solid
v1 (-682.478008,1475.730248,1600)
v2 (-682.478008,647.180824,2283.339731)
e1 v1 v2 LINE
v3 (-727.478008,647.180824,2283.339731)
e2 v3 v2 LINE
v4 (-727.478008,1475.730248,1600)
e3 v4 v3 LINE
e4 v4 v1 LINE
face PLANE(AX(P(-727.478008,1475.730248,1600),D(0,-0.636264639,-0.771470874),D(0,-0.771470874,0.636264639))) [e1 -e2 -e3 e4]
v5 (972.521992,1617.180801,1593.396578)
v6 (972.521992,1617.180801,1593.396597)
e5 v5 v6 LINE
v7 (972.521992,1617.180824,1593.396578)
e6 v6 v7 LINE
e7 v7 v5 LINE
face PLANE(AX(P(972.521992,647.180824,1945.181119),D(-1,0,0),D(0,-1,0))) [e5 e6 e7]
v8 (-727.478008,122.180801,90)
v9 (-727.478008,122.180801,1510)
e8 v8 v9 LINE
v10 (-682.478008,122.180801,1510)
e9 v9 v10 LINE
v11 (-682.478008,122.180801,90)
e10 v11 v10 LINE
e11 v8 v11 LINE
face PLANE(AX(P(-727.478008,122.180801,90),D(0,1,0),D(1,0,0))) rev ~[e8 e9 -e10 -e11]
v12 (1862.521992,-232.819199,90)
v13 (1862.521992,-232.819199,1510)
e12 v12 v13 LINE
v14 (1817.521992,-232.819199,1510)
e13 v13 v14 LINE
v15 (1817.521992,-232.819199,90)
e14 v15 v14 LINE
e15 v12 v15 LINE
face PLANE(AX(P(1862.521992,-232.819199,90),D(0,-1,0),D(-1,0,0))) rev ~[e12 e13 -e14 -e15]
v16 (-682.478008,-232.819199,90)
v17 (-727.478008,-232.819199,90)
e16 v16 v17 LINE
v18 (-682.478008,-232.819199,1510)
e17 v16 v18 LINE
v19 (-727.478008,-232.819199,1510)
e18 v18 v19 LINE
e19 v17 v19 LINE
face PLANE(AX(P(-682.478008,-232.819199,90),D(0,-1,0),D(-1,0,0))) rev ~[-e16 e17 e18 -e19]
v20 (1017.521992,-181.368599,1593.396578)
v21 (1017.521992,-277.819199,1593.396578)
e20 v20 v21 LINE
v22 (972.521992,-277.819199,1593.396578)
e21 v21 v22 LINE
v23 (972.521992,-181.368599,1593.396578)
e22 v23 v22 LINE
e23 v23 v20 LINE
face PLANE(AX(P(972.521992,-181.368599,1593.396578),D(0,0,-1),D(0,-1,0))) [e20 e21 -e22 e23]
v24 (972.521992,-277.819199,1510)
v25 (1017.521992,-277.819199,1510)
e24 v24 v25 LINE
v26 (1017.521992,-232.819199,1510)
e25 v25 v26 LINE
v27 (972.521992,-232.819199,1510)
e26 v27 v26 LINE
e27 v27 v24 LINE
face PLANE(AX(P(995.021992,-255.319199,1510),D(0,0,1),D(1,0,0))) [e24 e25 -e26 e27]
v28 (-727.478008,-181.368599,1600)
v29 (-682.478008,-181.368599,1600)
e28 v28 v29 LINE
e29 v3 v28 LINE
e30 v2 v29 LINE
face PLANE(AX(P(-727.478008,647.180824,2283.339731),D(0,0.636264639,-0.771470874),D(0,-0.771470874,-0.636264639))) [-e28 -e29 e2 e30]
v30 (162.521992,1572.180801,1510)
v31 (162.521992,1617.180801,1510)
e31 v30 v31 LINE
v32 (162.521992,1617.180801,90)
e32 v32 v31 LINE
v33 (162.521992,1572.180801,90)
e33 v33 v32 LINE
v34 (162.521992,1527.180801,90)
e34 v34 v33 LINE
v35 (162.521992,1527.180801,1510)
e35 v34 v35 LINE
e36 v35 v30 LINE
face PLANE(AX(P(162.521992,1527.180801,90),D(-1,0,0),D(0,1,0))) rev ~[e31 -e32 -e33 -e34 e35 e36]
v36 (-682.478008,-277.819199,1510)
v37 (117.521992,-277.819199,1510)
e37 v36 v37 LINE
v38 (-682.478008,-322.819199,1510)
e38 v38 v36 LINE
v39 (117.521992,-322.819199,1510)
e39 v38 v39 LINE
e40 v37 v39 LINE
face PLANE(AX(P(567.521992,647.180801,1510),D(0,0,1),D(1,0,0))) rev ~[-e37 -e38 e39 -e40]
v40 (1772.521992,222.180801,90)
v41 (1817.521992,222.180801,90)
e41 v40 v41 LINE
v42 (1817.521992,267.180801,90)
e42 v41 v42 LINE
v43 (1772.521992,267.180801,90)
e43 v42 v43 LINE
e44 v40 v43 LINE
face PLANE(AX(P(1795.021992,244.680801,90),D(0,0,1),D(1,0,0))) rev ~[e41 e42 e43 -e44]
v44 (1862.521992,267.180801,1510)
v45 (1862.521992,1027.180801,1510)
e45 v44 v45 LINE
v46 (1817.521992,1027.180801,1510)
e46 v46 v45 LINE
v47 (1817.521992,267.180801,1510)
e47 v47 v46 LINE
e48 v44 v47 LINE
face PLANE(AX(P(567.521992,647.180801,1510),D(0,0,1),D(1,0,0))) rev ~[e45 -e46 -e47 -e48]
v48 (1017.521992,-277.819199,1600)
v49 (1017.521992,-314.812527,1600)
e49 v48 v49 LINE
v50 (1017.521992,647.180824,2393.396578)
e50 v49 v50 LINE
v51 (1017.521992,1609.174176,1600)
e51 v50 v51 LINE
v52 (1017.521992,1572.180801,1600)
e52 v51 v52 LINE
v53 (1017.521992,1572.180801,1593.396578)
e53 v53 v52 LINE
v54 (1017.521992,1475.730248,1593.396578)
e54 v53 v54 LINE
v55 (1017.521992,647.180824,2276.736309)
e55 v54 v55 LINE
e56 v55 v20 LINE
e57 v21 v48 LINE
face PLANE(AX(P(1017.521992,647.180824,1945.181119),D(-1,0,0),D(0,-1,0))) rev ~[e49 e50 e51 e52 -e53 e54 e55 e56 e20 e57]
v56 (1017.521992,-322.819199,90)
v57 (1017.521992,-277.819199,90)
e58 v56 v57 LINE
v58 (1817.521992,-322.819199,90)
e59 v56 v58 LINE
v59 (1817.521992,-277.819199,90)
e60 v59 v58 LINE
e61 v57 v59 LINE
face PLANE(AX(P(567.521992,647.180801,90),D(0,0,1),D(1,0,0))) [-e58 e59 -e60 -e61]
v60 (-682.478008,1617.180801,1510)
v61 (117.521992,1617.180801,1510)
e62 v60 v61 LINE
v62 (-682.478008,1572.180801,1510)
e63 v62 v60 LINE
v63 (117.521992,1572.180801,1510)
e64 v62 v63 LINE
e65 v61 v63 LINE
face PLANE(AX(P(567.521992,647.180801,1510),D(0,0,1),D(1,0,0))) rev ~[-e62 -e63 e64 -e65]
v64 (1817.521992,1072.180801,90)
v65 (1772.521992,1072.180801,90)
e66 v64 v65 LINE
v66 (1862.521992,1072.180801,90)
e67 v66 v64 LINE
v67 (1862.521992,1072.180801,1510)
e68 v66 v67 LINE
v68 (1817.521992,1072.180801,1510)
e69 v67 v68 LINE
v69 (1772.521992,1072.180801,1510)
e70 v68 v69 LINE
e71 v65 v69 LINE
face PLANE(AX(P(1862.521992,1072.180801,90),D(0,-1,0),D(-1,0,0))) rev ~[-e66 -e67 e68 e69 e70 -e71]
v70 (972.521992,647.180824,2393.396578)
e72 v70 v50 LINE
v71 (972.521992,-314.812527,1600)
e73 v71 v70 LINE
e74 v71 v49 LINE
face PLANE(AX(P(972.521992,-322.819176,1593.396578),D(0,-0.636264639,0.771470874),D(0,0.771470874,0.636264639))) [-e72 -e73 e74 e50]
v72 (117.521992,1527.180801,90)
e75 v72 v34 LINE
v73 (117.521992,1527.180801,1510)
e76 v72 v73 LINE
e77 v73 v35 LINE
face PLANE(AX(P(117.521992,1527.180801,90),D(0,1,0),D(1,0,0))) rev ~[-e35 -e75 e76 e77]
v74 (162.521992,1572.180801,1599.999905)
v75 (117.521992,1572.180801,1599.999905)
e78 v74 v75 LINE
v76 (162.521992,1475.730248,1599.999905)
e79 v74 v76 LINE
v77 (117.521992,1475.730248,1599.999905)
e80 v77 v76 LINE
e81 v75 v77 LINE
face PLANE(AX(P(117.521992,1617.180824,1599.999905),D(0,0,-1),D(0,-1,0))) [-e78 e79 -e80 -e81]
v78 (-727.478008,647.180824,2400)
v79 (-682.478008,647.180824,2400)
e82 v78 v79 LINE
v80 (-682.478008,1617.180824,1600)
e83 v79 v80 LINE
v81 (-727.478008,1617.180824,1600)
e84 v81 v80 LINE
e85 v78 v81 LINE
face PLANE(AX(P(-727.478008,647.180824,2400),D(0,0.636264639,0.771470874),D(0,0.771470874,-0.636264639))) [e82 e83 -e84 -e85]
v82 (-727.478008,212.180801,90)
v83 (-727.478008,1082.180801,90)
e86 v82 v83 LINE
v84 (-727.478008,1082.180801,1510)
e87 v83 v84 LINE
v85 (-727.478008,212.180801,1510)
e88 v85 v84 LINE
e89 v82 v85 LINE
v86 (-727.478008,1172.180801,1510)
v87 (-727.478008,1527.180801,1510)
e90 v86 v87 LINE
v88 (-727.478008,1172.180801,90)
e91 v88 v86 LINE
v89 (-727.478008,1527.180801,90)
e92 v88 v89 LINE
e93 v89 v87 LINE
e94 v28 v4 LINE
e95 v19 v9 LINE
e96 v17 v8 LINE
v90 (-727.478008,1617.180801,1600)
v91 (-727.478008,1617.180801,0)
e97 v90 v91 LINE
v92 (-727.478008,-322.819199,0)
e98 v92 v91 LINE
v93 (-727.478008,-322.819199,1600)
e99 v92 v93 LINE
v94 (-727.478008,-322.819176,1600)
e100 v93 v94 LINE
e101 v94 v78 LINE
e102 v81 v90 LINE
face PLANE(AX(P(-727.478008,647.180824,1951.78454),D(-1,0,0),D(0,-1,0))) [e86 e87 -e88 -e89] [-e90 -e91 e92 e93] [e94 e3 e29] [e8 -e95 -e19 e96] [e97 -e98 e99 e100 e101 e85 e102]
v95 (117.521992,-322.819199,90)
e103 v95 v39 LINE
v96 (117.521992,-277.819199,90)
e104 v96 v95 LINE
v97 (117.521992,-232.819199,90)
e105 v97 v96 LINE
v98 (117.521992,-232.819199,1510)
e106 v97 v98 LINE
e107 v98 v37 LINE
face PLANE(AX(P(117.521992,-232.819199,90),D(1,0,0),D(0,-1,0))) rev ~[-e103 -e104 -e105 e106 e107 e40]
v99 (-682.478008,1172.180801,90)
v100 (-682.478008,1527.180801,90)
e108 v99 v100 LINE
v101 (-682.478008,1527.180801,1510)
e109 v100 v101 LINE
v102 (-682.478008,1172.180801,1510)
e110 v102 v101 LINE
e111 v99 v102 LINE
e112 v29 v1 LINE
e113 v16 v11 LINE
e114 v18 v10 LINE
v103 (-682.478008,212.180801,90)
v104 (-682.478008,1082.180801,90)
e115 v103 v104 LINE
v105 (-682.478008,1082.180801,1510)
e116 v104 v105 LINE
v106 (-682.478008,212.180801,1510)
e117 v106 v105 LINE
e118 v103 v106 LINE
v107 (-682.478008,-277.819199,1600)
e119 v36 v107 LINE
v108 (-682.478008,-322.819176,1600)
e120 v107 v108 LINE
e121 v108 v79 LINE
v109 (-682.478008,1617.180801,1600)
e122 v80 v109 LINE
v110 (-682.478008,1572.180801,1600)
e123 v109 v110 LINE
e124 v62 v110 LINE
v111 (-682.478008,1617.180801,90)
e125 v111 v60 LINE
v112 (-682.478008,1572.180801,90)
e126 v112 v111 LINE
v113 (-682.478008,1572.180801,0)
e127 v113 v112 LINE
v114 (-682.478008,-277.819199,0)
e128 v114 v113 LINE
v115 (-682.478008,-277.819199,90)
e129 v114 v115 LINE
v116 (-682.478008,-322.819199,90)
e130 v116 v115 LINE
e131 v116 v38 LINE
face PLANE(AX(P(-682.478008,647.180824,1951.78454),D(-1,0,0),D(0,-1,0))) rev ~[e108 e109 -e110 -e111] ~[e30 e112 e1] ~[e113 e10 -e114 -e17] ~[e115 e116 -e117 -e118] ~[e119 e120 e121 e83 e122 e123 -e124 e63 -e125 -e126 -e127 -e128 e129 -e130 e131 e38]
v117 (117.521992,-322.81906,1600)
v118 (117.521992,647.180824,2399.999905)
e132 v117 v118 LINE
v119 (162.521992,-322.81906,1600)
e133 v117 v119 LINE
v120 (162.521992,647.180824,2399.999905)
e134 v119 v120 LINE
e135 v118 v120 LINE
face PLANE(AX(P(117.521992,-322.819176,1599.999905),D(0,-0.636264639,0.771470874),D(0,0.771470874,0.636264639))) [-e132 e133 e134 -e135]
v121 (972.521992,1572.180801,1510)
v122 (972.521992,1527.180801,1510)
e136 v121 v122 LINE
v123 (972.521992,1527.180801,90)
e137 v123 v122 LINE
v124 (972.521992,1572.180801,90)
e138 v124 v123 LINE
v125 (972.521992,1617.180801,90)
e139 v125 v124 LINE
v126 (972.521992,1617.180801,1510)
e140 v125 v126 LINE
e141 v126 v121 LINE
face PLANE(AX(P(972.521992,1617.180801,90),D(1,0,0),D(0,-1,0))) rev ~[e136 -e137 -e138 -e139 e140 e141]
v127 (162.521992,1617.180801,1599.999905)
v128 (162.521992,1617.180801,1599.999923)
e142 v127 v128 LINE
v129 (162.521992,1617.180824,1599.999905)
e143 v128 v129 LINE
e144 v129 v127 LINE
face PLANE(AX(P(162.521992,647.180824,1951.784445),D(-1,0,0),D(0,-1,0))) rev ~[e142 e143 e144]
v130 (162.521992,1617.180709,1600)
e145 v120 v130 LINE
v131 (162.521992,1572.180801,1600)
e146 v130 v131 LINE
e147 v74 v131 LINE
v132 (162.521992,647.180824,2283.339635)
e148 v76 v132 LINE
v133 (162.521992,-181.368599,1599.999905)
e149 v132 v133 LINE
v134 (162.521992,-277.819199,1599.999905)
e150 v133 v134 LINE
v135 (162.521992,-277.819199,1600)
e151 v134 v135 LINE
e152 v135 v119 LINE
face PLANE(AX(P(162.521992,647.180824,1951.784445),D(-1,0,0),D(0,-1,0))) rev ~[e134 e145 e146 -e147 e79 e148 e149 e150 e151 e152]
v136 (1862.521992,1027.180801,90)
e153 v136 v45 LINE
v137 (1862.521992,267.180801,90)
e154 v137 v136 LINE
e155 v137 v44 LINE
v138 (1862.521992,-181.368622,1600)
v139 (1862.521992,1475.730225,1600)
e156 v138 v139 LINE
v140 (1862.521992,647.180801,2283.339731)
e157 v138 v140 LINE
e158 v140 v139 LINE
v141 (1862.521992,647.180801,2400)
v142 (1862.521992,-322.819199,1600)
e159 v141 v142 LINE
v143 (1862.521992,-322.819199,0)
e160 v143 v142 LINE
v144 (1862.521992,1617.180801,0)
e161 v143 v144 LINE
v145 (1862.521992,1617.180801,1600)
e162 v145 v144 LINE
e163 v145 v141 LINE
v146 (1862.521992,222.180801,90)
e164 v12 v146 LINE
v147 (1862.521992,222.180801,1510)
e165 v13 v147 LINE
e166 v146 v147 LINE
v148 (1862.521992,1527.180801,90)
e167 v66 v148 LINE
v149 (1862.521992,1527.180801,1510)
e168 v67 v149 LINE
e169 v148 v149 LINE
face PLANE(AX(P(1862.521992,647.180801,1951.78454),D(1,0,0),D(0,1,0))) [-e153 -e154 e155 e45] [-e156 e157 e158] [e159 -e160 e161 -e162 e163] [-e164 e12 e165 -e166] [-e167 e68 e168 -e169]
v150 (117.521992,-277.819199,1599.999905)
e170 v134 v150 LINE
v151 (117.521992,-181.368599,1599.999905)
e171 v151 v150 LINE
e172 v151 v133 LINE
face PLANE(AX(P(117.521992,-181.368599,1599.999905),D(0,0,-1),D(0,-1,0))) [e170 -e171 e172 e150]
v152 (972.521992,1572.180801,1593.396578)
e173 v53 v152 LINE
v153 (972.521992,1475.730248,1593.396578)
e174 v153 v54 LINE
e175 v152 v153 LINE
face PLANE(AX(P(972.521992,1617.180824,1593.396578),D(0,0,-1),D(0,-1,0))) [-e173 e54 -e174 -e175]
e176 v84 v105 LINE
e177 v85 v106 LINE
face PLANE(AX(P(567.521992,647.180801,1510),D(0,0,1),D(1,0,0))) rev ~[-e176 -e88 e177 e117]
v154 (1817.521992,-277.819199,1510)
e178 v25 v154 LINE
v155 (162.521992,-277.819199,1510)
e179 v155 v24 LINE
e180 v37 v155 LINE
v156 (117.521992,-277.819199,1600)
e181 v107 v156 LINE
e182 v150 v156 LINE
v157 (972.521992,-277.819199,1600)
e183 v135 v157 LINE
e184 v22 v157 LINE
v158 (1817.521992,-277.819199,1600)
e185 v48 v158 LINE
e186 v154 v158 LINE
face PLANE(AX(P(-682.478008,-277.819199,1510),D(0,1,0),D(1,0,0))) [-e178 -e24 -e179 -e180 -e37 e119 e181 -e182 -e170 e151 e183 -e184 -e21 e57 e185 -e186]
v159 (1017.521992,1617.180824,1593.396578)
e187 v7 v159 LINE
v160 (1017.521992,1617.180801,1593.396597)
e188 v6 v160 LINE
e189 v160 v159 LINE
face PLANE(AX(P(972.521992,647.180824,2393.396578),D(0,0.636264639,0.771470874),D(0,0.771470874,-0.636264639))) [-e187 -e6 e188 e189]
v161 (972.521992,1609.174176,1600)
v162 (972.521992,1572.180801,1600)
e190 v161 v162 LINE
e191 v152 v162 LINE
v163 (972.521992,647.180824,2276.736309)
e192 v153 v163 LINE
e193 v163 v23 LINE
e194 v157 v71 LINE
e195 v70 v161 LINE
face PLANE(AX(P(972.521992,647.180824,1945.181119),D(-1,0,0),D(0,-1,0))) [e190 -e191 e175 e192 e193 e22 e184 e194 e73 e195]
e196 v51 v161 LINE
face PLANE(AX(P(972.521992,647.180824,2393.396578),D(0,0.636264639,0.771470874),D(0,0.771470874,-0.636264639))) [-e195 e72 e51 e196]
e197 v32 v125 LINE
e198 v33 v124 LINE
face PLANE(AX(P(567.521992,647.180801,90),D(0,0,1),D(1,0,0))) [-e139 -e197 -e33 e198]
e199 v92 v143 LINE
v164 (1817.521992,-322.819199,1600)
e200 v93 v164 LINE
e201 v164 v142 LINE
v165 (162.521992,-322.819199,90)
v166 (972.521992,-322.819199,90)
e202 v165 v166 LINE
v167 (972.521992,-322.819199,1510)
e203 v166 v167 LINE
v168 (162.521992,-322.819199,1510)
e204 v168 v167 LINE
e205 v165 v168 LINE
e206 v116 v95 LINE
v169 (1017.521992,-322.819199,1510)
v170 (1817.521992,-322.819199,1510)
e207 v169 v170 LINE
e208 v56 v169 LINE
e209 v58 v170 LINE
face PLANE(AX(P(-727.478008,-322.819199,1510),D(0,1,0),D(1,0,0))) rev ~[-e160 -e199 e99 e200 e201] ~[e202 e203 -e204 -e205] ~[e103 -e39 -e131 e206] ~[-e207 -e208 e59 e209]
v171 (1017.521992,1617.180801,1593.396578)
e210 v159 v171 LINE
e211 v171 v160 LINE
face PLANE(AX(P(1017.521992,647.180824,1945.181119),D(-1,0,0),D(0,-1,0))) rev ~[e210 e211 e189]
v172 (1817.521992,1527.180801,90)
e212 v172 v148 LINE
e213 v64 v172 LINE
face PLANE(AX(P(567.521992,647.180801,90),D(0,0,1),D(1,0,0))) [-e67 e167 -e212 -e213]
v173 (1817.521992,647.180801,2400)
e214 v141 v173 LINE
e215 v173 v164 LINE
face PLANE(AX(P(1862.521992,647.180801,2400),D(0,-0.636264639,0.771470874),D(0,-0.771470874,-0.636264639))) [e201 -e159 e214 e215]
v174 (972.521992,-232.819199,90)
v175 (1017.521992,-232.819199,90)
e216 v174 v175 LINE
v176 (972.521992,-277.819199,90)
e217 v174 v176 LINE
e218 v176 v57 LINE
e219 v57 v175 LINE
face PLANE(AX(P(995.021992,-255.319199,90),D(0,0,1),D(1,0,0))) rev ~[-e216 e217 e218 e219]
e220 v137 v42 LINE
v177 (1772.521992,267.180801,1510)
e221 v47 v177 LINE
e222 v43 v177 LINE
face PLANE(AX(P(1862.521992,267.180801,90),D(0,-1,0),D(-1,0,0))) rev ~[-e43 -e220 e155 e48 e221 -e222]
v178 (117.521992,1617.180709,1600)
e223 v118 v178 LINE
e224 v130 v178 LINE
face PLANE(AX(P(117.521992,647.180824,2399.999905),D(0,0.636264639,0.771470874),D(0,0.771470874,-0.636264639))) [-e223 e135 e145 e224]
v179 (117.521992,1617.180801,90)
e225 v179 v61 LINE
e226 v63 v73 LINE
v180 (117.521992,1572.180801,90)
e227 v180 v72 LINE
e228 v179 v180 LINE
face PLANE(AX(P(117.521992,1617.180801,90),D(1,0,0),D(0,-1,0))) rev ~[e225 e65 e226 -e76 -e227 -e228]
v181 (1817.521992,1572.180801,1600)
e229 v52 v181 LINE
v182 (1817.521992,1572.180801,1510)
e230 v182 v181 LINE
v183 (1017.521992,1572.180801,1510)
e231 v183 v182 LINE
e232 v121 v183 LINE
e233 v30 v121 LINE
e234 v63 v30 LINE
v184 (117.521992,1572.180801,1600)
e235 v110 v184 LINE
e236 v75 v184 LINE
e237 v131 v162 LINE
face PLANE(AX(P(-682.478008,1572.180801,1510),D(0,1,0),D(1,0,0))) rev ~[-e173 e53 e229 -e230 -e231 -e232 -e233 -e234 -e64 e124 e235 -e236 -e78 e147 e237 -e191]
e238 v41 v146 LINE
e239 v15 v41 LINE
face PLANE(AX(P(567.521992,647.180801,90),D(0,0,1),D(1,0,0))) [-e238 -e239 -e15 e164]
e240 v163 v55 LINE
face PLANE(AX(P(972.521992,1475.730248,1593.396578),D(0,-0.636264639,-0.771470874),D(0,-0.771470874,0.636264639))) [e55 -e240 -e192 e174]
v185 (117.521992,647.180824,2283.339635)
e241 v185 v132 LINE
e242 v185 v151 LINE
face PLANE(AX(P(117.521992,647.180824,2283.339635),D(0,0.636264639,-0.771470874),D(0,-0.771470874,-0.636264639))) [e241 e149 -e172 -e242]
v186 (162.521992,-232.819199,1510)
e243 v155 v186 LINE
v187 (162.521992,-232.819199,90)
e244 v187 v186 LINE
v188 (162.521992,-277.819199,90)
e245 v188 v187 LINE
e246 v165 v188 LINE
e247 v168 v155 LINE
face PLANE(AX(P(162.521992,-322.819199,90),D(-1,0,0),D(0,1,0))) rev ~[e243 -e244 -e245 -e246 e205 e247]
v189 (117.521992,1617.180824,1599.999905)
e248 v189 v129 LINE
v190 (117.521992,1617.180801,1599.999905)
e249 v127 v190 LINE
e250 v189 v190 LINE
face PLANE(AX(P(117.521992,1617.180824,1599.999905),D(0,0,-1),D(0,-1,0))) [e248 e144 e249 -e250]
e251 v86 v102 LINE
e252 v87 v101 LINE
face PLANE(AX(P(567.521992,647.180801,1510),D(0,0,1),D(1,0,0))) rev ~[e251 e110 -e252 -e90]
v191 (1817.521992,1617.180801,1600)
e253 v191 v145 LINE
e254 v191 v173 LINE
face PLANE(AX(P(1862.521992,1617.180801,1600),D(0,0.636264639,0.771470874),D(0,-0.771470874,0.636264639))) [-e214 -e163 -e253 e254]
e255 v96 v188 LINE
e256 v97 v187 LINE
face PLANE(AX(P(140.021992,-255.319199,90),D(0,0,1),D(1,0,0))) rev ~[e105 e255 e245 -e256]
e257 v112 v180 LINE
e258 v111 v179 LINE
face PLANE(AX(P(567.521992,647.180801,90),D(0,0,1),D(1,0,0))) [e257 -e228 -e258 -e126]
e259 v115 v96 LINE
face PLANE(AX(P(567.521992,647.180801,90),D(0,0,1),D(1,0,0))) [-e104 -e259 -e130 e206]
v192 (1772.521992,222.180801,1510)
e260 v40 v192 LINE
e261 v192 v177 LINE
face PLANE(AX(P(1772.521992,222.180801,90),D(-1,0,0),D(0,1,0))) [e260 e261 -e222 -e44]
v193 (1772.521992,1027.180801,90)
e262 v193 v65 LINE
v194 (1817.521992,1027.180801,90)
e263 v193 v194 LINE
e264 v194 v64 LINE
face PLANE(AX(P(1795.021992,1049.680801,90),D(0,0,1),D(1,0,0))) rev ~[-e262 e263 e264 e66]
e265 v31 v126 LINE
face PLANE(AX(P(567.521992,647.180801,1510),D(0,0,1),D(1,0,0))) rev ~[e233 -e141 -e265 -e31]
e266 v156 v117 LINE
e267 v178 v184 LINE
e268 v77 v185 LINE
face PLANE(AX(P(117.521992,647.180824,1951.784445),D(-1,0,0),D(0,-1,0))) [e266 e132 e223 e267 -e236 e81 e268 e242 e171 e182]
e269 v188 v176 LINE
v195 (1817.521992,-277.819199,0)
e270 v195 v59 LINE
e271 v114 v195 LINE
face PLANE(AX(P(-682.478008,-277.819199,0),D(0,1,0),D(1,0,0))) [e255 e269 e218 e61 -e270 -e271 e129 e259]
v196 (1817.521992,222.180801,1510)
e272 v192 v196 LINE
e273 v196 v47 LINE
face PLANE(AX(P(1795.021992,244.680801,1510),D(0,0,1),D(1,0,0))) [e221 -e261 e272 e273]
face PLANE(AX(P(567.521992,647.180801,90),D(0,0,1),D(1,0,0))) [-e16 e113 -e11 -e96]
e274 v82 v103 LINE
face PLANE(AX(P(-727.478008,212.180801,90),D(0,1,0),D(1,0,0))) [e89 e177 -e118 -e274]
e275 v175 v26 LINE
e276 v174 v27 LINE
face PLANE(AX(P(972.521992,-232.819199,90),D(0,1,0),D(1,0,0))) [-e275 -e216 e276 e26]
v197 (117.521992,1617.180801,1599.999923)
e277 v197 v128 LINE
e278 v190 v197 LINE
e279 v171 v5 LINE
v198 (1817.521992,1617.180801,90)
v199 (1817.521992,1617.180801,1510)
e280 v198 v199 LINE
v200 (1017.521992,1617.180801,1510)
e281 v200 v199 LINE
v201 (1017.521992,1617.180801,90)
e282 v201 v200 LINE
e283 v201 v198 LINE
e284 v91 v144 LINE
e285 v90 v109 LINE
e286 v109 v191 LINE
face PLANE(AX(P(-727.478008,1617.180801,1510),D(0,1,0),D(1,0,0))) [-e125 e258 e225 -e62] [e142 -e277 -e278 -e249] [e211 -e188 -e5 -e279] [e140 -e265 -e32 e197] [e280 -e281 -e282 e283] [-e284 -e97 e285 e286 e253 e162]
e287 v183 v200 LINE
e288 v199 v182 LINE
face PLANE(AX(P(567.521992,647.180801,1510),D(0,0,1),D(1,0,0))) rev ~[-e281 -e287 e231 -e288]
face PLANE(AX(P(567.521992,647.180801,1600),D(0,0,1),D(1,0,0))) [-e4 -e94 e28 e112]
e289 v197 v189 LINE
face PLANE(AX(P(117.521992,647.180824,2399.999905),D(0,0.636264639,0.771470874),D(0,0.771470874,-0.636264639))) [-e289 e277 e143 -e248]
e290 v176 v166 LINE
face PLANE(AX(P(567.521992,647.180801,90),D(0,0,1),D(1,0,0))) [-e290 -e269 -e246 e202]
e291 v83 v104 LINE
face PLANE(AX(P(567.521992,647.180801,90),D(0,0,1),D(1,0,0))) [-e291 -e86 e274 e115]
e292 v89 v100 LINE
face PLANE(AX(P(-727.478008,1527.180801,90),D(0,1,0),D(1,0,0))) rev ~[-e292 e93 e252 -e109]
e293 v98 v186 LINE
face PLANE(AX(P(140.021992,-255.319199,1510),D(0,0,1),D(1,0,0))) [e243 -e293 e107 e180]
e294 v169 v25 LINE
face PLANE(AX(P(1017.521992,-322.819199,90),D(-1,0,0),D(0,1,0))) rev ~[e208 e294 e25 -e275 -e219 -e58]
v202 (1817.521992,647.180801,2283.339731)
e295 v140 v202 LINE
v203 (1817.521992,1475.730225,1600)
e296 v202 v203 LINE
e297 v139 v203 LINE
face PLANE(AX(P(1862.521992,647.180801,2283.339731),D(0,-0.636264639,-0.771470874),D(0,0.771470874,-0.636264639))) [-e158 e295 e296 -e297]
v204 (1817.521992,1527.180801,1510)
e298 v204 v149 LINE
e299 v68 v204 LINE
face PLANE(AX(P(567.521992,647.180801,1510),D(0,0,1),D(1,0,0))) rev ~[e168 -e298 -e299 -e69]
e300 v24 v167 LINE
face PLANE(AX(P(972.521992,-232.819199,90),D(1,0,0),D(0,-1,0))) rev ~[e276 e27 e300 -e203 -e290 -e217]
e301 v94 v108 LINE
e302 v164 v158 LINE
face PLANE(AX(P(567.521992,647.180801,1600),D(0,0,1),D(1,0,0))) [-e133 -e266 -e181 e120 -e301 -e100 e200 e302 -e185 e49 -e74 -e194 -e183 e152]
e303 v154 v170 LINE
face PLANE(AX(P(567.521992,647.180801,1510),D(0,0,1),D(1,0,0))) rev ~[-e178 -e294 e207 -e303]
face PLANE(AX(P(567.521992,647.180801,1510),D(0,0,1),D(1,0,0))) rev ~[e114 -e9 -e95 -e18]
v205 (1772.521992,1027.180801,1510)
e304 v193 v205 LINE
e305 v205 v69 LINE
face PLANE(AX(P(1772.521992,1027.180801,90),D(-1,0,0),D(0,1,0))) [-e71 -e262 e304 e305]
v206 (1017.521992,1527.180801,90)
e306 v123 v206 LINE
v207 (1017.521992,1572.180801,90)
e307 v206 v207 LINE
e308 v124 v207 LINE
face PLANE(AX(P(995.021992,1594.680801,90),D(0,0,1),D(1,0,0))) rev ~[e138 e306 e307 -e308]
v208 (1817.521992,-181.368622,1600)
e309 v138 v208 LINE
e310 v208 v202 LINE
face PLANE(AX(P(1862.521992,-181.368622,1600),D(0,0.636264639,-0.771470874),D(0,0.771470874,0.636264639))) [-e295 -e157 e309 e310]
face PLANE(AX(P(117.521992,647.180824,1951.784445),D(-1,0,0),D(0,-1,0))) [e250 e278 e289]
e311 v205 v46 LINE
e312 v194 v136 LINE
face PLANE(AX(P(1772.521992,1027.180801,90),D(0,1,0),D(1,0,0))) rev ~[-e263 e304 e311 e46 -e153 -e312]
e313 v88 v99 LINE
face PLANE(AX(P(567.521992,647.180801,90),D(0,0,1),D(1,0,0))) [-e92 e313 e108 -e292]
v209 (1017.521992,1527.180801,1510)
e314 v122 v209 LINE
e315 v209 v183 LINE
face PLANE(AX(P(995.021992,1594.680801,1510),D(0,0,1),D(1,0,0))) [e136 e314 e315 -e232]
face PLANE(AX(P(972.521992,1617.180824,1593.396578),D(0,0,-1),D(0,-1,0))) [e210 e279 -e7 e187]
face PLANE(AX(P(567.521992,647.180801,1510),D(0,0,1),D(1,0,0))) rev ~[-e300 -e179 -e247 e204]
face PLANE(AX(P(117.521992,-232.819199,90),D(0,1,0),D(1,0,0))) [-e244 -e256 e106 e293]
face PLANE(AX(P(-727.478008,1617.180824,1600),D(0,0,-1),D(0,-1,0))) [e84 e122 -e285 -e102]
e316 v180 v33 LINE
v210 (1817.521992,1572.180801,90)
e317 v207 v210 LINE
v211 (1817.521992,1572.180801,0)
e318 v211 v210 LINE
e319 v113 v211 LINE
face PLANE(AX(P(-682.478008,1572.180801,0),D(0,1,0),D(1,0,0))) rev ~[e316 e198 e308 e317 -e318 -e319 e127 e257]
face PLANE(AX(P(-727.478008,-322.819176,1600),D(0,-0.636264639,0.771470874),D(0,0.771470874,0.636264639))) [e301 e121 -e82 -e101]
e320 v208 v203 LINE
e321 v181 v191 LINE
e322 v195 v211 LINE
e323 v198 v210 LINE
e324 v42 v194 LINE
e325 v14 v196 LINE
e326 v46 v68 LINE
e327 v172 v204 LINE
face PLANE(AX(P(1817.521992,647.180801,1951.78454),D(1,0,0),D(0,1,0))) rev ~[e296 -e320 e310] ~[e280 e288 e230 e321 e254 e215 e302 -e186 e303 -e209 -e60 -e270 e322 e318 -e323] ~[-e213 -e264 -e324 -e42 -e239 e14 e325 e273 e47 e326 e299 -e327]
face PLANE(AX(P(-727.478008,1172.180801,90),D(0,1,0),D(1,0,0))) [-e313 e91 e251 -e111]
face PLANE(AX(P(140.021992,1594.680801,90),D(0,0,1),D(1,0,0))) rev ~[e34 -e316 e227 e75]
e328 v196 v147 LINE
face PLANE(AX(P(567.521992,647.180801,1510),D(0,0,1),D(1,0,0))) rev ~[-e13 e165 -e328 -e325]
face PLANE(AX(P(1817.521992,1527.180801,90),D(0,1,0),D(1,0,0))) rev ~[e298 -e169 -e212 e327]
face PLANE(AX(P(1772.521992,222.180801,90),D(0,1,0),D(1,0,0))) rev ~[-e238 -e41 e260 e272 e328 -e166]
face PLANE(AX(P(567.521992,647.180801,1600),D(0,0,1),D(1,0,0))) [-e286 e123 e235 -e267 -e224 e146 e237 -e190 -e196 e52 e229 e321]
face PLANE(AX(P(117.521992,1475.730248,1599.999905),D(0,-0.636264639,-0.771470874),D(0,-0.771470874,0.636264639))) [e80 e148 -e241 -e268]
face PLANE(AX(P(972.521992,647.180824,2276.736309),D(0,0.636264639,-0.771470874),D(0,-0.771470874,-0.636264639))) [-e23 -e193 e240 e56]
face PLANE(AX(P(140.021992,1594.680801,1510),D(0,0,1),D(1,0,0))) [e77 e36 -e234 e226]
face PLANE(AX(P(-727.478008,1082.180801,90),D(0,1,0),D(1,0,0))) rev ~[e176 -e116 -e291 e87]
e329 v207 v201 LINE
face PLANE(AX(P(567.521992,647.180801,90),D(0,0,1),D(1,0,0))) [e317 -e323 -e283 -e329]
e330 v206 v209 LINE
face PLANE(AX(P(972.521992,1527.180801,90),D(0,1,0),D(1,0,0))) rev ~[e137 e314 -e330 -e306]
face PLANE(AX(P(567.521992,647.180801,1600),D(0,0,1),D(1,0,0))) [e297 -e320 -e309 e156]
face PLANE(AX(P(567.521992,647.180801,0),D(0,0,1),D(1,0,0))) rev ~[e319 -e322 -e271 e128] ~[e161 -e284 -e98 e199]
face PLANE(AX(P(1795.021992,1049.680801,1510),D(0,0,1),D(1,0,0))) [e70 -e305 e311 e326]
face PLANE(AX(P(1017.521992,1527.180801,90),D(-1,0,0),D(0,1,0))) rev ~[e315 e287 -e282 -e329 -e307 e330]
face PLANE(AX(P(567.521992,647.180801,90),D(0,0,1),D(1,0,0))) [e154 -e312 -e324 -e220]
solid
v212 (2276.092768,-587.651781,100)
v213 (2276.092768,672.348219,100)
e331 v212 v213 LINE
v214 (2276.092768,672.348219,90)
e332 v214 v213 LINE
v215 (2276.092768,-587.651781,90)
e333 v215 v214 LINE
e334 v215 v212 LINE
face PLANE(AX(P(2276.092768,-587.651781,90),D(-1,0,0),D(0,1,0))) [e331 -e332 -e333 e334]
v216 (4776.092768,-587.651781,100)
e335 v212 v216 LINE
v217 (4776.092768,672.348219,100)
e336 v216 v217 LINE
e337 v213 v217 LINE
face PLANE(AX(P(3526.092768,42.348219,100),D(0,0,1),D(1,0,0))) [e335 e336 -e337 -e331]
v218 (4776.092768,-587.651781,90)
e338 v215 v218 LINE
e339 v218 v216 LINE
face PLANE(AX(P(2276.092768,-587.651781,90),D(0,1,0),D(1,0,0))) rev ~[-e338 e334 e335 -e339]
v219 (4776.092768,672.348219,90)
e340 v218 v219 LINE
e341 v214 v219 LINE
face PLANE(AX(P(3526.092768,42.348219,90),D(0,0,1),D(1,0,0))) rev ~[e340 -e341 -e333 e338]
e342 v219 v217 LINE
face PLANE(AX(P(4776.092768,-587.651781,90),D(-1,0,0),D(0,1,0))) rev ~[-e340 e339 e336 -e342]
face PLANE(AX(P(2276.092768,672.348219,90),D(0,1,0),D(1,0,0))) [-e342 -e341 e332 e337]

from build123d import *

# Parameters (mm, degrees)
F0_W      = 2590
F0_H      = 1940
F0_W_2    = 2500
F0_H_2    = 1850
F1_DEPTH  = 90
F2_W      = 45
F2_H      = 90
F2_H_2    = 45
F3_DEPTH  = 1420
F4_W      = 2590
F4_H      = 1940
F4_W_2    = 2500
F4_H_2    = 1850
F5_DEPTH  = 90
F7_DEPTH  = 45
F9_DEPTH  = 45
F11_DEPTH = 45
F13_DEPTH = 45
F14_W     = 2500
F14_H     = 1260
F15_DEPTH = 10


with BuildPart() as f1:
    # F0 (on Top) → F1 (new body)
    with BuildSketch(Plane.XY):
        with Locations((567.521992058, 647.1808014655)):
            Rectangle(F0_W, F0_H)
        with Locations((567.521992058, 647.1808014655)):
            Rectangle(F0_W_2, F0_H_2, mode=Mode.SUBTRACT)
    extrude(amount=F1_DEPTH)

    # F2 (on face) → F3 (join)
    with BuildSketch(Plane.XY.offset(90)):
        with Locations((-704.978007942, 1127.1808014655)):
            Rectangle(F2_W, F2_H)
        with Locations((-704.978007942, 167.1808014655)):
            Rectangle(F2_W, F2_H)
        Polygon((-727.478007942, -232.8191985345), (-727.478007942, -322.8191985345), (-682.478007942, -322.8191985345), (-682.478007942, -277.8191985345), (-682.478007942, -232.8191985345), align=None)
        with Locations((140.021992058, -255.3191985345)):
            Rectangle(F2_W, F2_H_2)
        with Locations((140.021992058, -300.3191985345)):
            Rectangle(F2_W, F2_H_2)
        with Locations((995.021992058, -255.3191985345)):
            Rectangle(F2_W, F2_H_2)
        with Locations((995.021992058, -300.3191985345)):
            Rectangle(F2_W, F2_H_2)
        Polygon((1817.521992058, -277.8191985345), (1817.521992058, -322.8191985345), (1862.521992058, -322.8191985345), (1862.521992058, -232.8191985345), (1817.521992058, -232.8191985345), align=None)
        with Locations((1795.021992058, 244.6808014655)):
            Rectangle(F2_W, F2_H_2)
        with Locations((1840.021992058, 244.6808014655)):
            Rectangle(F2_W, F2_H_2)
        with Locations((1795.021992058, 1049.6808014655)):
            Rectangle(F2_W, F2_H_2)
        with Locations((1840.021992058, 1049.6808014655)):
            Rectangle(F2_W, F2_H_2)
        Polygon((1817.521992058, 1572.1808014655), (1817.521992058, 1527.1808014655), (1862.521992058, 1527.1808014655), (1862.521992058, 1617.1808014655), (1817.521992058, 1617.1808014655), align=None)
        with Locations((995.021992058, 1594.6808014655)):
            Rectangle(F2_W, F2_H_2)
        with Locations((995.021992058, 1549.6808014655)):
            Rectangle(F2_W, F2_H_2)
        with Locations((140.021992058, 1594.6808014655)):
            Rectangle(F2_W, F2_H_2)
        with Locations((140.021992058, 1549.6808014655)):
            Rectangle(F2_W, F2_H_2)
        Polygon((-727.478007942, 1617.1808014655), (-727.478007942, 1527.1808014655), (-682.478007942, 1527.1808014655), (-682.478007942, 1572.1808014655), (-682.478007942, 1617.1808014655), align=None)
    extrude(amount=F3_DEPTH)

    # F4 (on face) → F5 (join)
    with BuildSketch(Plane.XY.offset(1510)):
        with Locations((567.521992058, 647.1808014655)):
            Rectangle(F4_W, F4_H)
        with Locations((567.521992058, 647.1808014655)):
            Rectangle(F4_W_2, F4_H_2, mode=Mode.SUBTRACT)
    extrude(amount=F5_DEPTH)

    # F6 (on face) → F7 (join)
    with BuildSketch(Plane.YZ.offset(1862.521992058)):
        Polygon((647.1808014655, 2400), (-322.8191985345, 1600), (-181.3686219185, 1600), (647.1808014655, 2283.339730626), (1475.7302248495, 1600), (1617.1808014655, 1600), align=None)
    extrude(amount=-F7_DEPTH)

    # F8 (on face) → F9 (join)
    with BuildSketch(Plane(origin=(972.521992058, 0, 0), x_dir=(0, -1, 0), z_dir=(-1, 0, 0))):
        Polygon((-647.1808242798, 2393.3965783884), (-1617.1808242798, 1593.3965783884), (-1475.7302476638, 1593.3965783884), (-647.1808242798, 2276.7363090144), (181.3685991042, 1593.3965783884), (322.8191757202, 1593.3965783884), align=None)
    extrude(amount=-F9_DEPTH)

    # F10 (on face) → F11 (join)
    with BuildSketch(Plane(origin=(117.521992058, 0, 0), x_dir=(0, -1, 0), z_dir=(-1, 0, 0))):
        Polygon((-647.1808242798, 2399.9999046326), (-1617.1808242798, 1599.9999046326), (-1475.7302476638, 1599.9999046326), (-647.1808242798, 2283.3396352585), (181.3685991042, 1599.9999046326), (322.8191757202, 1599.9999046326), align=None)
    extrude(amount=-F11_DEPTH)

    # F12 (on face) → F13 (join)
    with BuildSketch(Plane(origin=(-727.478007942, 0, 0), x_dir=(0, -1, 0), z_dir=(-1, 0, 0))):
        Polygon((-647.1808242798, 2400), (-1617.1808242798, 1600), (-1475.7302476638, 1600), (-647.1808242798, 2283.339730626), (181.3685991042, 1600), (322.8191757202, 1600), align=None)
    extrude(amount=-F13_DEPTH)


with BuildPart() as f15:
    # F14 (on face) → F15 (new body)
    with BuildSketch(Plane.XY.offset(90)):
        with Locations((3526.0927677155, 42.3482188576)):
            Rectangle(F14_W, F14_H)
    extrude(amount=F15_DEPTH)


solid = Compound([f1.part, f15.part])
